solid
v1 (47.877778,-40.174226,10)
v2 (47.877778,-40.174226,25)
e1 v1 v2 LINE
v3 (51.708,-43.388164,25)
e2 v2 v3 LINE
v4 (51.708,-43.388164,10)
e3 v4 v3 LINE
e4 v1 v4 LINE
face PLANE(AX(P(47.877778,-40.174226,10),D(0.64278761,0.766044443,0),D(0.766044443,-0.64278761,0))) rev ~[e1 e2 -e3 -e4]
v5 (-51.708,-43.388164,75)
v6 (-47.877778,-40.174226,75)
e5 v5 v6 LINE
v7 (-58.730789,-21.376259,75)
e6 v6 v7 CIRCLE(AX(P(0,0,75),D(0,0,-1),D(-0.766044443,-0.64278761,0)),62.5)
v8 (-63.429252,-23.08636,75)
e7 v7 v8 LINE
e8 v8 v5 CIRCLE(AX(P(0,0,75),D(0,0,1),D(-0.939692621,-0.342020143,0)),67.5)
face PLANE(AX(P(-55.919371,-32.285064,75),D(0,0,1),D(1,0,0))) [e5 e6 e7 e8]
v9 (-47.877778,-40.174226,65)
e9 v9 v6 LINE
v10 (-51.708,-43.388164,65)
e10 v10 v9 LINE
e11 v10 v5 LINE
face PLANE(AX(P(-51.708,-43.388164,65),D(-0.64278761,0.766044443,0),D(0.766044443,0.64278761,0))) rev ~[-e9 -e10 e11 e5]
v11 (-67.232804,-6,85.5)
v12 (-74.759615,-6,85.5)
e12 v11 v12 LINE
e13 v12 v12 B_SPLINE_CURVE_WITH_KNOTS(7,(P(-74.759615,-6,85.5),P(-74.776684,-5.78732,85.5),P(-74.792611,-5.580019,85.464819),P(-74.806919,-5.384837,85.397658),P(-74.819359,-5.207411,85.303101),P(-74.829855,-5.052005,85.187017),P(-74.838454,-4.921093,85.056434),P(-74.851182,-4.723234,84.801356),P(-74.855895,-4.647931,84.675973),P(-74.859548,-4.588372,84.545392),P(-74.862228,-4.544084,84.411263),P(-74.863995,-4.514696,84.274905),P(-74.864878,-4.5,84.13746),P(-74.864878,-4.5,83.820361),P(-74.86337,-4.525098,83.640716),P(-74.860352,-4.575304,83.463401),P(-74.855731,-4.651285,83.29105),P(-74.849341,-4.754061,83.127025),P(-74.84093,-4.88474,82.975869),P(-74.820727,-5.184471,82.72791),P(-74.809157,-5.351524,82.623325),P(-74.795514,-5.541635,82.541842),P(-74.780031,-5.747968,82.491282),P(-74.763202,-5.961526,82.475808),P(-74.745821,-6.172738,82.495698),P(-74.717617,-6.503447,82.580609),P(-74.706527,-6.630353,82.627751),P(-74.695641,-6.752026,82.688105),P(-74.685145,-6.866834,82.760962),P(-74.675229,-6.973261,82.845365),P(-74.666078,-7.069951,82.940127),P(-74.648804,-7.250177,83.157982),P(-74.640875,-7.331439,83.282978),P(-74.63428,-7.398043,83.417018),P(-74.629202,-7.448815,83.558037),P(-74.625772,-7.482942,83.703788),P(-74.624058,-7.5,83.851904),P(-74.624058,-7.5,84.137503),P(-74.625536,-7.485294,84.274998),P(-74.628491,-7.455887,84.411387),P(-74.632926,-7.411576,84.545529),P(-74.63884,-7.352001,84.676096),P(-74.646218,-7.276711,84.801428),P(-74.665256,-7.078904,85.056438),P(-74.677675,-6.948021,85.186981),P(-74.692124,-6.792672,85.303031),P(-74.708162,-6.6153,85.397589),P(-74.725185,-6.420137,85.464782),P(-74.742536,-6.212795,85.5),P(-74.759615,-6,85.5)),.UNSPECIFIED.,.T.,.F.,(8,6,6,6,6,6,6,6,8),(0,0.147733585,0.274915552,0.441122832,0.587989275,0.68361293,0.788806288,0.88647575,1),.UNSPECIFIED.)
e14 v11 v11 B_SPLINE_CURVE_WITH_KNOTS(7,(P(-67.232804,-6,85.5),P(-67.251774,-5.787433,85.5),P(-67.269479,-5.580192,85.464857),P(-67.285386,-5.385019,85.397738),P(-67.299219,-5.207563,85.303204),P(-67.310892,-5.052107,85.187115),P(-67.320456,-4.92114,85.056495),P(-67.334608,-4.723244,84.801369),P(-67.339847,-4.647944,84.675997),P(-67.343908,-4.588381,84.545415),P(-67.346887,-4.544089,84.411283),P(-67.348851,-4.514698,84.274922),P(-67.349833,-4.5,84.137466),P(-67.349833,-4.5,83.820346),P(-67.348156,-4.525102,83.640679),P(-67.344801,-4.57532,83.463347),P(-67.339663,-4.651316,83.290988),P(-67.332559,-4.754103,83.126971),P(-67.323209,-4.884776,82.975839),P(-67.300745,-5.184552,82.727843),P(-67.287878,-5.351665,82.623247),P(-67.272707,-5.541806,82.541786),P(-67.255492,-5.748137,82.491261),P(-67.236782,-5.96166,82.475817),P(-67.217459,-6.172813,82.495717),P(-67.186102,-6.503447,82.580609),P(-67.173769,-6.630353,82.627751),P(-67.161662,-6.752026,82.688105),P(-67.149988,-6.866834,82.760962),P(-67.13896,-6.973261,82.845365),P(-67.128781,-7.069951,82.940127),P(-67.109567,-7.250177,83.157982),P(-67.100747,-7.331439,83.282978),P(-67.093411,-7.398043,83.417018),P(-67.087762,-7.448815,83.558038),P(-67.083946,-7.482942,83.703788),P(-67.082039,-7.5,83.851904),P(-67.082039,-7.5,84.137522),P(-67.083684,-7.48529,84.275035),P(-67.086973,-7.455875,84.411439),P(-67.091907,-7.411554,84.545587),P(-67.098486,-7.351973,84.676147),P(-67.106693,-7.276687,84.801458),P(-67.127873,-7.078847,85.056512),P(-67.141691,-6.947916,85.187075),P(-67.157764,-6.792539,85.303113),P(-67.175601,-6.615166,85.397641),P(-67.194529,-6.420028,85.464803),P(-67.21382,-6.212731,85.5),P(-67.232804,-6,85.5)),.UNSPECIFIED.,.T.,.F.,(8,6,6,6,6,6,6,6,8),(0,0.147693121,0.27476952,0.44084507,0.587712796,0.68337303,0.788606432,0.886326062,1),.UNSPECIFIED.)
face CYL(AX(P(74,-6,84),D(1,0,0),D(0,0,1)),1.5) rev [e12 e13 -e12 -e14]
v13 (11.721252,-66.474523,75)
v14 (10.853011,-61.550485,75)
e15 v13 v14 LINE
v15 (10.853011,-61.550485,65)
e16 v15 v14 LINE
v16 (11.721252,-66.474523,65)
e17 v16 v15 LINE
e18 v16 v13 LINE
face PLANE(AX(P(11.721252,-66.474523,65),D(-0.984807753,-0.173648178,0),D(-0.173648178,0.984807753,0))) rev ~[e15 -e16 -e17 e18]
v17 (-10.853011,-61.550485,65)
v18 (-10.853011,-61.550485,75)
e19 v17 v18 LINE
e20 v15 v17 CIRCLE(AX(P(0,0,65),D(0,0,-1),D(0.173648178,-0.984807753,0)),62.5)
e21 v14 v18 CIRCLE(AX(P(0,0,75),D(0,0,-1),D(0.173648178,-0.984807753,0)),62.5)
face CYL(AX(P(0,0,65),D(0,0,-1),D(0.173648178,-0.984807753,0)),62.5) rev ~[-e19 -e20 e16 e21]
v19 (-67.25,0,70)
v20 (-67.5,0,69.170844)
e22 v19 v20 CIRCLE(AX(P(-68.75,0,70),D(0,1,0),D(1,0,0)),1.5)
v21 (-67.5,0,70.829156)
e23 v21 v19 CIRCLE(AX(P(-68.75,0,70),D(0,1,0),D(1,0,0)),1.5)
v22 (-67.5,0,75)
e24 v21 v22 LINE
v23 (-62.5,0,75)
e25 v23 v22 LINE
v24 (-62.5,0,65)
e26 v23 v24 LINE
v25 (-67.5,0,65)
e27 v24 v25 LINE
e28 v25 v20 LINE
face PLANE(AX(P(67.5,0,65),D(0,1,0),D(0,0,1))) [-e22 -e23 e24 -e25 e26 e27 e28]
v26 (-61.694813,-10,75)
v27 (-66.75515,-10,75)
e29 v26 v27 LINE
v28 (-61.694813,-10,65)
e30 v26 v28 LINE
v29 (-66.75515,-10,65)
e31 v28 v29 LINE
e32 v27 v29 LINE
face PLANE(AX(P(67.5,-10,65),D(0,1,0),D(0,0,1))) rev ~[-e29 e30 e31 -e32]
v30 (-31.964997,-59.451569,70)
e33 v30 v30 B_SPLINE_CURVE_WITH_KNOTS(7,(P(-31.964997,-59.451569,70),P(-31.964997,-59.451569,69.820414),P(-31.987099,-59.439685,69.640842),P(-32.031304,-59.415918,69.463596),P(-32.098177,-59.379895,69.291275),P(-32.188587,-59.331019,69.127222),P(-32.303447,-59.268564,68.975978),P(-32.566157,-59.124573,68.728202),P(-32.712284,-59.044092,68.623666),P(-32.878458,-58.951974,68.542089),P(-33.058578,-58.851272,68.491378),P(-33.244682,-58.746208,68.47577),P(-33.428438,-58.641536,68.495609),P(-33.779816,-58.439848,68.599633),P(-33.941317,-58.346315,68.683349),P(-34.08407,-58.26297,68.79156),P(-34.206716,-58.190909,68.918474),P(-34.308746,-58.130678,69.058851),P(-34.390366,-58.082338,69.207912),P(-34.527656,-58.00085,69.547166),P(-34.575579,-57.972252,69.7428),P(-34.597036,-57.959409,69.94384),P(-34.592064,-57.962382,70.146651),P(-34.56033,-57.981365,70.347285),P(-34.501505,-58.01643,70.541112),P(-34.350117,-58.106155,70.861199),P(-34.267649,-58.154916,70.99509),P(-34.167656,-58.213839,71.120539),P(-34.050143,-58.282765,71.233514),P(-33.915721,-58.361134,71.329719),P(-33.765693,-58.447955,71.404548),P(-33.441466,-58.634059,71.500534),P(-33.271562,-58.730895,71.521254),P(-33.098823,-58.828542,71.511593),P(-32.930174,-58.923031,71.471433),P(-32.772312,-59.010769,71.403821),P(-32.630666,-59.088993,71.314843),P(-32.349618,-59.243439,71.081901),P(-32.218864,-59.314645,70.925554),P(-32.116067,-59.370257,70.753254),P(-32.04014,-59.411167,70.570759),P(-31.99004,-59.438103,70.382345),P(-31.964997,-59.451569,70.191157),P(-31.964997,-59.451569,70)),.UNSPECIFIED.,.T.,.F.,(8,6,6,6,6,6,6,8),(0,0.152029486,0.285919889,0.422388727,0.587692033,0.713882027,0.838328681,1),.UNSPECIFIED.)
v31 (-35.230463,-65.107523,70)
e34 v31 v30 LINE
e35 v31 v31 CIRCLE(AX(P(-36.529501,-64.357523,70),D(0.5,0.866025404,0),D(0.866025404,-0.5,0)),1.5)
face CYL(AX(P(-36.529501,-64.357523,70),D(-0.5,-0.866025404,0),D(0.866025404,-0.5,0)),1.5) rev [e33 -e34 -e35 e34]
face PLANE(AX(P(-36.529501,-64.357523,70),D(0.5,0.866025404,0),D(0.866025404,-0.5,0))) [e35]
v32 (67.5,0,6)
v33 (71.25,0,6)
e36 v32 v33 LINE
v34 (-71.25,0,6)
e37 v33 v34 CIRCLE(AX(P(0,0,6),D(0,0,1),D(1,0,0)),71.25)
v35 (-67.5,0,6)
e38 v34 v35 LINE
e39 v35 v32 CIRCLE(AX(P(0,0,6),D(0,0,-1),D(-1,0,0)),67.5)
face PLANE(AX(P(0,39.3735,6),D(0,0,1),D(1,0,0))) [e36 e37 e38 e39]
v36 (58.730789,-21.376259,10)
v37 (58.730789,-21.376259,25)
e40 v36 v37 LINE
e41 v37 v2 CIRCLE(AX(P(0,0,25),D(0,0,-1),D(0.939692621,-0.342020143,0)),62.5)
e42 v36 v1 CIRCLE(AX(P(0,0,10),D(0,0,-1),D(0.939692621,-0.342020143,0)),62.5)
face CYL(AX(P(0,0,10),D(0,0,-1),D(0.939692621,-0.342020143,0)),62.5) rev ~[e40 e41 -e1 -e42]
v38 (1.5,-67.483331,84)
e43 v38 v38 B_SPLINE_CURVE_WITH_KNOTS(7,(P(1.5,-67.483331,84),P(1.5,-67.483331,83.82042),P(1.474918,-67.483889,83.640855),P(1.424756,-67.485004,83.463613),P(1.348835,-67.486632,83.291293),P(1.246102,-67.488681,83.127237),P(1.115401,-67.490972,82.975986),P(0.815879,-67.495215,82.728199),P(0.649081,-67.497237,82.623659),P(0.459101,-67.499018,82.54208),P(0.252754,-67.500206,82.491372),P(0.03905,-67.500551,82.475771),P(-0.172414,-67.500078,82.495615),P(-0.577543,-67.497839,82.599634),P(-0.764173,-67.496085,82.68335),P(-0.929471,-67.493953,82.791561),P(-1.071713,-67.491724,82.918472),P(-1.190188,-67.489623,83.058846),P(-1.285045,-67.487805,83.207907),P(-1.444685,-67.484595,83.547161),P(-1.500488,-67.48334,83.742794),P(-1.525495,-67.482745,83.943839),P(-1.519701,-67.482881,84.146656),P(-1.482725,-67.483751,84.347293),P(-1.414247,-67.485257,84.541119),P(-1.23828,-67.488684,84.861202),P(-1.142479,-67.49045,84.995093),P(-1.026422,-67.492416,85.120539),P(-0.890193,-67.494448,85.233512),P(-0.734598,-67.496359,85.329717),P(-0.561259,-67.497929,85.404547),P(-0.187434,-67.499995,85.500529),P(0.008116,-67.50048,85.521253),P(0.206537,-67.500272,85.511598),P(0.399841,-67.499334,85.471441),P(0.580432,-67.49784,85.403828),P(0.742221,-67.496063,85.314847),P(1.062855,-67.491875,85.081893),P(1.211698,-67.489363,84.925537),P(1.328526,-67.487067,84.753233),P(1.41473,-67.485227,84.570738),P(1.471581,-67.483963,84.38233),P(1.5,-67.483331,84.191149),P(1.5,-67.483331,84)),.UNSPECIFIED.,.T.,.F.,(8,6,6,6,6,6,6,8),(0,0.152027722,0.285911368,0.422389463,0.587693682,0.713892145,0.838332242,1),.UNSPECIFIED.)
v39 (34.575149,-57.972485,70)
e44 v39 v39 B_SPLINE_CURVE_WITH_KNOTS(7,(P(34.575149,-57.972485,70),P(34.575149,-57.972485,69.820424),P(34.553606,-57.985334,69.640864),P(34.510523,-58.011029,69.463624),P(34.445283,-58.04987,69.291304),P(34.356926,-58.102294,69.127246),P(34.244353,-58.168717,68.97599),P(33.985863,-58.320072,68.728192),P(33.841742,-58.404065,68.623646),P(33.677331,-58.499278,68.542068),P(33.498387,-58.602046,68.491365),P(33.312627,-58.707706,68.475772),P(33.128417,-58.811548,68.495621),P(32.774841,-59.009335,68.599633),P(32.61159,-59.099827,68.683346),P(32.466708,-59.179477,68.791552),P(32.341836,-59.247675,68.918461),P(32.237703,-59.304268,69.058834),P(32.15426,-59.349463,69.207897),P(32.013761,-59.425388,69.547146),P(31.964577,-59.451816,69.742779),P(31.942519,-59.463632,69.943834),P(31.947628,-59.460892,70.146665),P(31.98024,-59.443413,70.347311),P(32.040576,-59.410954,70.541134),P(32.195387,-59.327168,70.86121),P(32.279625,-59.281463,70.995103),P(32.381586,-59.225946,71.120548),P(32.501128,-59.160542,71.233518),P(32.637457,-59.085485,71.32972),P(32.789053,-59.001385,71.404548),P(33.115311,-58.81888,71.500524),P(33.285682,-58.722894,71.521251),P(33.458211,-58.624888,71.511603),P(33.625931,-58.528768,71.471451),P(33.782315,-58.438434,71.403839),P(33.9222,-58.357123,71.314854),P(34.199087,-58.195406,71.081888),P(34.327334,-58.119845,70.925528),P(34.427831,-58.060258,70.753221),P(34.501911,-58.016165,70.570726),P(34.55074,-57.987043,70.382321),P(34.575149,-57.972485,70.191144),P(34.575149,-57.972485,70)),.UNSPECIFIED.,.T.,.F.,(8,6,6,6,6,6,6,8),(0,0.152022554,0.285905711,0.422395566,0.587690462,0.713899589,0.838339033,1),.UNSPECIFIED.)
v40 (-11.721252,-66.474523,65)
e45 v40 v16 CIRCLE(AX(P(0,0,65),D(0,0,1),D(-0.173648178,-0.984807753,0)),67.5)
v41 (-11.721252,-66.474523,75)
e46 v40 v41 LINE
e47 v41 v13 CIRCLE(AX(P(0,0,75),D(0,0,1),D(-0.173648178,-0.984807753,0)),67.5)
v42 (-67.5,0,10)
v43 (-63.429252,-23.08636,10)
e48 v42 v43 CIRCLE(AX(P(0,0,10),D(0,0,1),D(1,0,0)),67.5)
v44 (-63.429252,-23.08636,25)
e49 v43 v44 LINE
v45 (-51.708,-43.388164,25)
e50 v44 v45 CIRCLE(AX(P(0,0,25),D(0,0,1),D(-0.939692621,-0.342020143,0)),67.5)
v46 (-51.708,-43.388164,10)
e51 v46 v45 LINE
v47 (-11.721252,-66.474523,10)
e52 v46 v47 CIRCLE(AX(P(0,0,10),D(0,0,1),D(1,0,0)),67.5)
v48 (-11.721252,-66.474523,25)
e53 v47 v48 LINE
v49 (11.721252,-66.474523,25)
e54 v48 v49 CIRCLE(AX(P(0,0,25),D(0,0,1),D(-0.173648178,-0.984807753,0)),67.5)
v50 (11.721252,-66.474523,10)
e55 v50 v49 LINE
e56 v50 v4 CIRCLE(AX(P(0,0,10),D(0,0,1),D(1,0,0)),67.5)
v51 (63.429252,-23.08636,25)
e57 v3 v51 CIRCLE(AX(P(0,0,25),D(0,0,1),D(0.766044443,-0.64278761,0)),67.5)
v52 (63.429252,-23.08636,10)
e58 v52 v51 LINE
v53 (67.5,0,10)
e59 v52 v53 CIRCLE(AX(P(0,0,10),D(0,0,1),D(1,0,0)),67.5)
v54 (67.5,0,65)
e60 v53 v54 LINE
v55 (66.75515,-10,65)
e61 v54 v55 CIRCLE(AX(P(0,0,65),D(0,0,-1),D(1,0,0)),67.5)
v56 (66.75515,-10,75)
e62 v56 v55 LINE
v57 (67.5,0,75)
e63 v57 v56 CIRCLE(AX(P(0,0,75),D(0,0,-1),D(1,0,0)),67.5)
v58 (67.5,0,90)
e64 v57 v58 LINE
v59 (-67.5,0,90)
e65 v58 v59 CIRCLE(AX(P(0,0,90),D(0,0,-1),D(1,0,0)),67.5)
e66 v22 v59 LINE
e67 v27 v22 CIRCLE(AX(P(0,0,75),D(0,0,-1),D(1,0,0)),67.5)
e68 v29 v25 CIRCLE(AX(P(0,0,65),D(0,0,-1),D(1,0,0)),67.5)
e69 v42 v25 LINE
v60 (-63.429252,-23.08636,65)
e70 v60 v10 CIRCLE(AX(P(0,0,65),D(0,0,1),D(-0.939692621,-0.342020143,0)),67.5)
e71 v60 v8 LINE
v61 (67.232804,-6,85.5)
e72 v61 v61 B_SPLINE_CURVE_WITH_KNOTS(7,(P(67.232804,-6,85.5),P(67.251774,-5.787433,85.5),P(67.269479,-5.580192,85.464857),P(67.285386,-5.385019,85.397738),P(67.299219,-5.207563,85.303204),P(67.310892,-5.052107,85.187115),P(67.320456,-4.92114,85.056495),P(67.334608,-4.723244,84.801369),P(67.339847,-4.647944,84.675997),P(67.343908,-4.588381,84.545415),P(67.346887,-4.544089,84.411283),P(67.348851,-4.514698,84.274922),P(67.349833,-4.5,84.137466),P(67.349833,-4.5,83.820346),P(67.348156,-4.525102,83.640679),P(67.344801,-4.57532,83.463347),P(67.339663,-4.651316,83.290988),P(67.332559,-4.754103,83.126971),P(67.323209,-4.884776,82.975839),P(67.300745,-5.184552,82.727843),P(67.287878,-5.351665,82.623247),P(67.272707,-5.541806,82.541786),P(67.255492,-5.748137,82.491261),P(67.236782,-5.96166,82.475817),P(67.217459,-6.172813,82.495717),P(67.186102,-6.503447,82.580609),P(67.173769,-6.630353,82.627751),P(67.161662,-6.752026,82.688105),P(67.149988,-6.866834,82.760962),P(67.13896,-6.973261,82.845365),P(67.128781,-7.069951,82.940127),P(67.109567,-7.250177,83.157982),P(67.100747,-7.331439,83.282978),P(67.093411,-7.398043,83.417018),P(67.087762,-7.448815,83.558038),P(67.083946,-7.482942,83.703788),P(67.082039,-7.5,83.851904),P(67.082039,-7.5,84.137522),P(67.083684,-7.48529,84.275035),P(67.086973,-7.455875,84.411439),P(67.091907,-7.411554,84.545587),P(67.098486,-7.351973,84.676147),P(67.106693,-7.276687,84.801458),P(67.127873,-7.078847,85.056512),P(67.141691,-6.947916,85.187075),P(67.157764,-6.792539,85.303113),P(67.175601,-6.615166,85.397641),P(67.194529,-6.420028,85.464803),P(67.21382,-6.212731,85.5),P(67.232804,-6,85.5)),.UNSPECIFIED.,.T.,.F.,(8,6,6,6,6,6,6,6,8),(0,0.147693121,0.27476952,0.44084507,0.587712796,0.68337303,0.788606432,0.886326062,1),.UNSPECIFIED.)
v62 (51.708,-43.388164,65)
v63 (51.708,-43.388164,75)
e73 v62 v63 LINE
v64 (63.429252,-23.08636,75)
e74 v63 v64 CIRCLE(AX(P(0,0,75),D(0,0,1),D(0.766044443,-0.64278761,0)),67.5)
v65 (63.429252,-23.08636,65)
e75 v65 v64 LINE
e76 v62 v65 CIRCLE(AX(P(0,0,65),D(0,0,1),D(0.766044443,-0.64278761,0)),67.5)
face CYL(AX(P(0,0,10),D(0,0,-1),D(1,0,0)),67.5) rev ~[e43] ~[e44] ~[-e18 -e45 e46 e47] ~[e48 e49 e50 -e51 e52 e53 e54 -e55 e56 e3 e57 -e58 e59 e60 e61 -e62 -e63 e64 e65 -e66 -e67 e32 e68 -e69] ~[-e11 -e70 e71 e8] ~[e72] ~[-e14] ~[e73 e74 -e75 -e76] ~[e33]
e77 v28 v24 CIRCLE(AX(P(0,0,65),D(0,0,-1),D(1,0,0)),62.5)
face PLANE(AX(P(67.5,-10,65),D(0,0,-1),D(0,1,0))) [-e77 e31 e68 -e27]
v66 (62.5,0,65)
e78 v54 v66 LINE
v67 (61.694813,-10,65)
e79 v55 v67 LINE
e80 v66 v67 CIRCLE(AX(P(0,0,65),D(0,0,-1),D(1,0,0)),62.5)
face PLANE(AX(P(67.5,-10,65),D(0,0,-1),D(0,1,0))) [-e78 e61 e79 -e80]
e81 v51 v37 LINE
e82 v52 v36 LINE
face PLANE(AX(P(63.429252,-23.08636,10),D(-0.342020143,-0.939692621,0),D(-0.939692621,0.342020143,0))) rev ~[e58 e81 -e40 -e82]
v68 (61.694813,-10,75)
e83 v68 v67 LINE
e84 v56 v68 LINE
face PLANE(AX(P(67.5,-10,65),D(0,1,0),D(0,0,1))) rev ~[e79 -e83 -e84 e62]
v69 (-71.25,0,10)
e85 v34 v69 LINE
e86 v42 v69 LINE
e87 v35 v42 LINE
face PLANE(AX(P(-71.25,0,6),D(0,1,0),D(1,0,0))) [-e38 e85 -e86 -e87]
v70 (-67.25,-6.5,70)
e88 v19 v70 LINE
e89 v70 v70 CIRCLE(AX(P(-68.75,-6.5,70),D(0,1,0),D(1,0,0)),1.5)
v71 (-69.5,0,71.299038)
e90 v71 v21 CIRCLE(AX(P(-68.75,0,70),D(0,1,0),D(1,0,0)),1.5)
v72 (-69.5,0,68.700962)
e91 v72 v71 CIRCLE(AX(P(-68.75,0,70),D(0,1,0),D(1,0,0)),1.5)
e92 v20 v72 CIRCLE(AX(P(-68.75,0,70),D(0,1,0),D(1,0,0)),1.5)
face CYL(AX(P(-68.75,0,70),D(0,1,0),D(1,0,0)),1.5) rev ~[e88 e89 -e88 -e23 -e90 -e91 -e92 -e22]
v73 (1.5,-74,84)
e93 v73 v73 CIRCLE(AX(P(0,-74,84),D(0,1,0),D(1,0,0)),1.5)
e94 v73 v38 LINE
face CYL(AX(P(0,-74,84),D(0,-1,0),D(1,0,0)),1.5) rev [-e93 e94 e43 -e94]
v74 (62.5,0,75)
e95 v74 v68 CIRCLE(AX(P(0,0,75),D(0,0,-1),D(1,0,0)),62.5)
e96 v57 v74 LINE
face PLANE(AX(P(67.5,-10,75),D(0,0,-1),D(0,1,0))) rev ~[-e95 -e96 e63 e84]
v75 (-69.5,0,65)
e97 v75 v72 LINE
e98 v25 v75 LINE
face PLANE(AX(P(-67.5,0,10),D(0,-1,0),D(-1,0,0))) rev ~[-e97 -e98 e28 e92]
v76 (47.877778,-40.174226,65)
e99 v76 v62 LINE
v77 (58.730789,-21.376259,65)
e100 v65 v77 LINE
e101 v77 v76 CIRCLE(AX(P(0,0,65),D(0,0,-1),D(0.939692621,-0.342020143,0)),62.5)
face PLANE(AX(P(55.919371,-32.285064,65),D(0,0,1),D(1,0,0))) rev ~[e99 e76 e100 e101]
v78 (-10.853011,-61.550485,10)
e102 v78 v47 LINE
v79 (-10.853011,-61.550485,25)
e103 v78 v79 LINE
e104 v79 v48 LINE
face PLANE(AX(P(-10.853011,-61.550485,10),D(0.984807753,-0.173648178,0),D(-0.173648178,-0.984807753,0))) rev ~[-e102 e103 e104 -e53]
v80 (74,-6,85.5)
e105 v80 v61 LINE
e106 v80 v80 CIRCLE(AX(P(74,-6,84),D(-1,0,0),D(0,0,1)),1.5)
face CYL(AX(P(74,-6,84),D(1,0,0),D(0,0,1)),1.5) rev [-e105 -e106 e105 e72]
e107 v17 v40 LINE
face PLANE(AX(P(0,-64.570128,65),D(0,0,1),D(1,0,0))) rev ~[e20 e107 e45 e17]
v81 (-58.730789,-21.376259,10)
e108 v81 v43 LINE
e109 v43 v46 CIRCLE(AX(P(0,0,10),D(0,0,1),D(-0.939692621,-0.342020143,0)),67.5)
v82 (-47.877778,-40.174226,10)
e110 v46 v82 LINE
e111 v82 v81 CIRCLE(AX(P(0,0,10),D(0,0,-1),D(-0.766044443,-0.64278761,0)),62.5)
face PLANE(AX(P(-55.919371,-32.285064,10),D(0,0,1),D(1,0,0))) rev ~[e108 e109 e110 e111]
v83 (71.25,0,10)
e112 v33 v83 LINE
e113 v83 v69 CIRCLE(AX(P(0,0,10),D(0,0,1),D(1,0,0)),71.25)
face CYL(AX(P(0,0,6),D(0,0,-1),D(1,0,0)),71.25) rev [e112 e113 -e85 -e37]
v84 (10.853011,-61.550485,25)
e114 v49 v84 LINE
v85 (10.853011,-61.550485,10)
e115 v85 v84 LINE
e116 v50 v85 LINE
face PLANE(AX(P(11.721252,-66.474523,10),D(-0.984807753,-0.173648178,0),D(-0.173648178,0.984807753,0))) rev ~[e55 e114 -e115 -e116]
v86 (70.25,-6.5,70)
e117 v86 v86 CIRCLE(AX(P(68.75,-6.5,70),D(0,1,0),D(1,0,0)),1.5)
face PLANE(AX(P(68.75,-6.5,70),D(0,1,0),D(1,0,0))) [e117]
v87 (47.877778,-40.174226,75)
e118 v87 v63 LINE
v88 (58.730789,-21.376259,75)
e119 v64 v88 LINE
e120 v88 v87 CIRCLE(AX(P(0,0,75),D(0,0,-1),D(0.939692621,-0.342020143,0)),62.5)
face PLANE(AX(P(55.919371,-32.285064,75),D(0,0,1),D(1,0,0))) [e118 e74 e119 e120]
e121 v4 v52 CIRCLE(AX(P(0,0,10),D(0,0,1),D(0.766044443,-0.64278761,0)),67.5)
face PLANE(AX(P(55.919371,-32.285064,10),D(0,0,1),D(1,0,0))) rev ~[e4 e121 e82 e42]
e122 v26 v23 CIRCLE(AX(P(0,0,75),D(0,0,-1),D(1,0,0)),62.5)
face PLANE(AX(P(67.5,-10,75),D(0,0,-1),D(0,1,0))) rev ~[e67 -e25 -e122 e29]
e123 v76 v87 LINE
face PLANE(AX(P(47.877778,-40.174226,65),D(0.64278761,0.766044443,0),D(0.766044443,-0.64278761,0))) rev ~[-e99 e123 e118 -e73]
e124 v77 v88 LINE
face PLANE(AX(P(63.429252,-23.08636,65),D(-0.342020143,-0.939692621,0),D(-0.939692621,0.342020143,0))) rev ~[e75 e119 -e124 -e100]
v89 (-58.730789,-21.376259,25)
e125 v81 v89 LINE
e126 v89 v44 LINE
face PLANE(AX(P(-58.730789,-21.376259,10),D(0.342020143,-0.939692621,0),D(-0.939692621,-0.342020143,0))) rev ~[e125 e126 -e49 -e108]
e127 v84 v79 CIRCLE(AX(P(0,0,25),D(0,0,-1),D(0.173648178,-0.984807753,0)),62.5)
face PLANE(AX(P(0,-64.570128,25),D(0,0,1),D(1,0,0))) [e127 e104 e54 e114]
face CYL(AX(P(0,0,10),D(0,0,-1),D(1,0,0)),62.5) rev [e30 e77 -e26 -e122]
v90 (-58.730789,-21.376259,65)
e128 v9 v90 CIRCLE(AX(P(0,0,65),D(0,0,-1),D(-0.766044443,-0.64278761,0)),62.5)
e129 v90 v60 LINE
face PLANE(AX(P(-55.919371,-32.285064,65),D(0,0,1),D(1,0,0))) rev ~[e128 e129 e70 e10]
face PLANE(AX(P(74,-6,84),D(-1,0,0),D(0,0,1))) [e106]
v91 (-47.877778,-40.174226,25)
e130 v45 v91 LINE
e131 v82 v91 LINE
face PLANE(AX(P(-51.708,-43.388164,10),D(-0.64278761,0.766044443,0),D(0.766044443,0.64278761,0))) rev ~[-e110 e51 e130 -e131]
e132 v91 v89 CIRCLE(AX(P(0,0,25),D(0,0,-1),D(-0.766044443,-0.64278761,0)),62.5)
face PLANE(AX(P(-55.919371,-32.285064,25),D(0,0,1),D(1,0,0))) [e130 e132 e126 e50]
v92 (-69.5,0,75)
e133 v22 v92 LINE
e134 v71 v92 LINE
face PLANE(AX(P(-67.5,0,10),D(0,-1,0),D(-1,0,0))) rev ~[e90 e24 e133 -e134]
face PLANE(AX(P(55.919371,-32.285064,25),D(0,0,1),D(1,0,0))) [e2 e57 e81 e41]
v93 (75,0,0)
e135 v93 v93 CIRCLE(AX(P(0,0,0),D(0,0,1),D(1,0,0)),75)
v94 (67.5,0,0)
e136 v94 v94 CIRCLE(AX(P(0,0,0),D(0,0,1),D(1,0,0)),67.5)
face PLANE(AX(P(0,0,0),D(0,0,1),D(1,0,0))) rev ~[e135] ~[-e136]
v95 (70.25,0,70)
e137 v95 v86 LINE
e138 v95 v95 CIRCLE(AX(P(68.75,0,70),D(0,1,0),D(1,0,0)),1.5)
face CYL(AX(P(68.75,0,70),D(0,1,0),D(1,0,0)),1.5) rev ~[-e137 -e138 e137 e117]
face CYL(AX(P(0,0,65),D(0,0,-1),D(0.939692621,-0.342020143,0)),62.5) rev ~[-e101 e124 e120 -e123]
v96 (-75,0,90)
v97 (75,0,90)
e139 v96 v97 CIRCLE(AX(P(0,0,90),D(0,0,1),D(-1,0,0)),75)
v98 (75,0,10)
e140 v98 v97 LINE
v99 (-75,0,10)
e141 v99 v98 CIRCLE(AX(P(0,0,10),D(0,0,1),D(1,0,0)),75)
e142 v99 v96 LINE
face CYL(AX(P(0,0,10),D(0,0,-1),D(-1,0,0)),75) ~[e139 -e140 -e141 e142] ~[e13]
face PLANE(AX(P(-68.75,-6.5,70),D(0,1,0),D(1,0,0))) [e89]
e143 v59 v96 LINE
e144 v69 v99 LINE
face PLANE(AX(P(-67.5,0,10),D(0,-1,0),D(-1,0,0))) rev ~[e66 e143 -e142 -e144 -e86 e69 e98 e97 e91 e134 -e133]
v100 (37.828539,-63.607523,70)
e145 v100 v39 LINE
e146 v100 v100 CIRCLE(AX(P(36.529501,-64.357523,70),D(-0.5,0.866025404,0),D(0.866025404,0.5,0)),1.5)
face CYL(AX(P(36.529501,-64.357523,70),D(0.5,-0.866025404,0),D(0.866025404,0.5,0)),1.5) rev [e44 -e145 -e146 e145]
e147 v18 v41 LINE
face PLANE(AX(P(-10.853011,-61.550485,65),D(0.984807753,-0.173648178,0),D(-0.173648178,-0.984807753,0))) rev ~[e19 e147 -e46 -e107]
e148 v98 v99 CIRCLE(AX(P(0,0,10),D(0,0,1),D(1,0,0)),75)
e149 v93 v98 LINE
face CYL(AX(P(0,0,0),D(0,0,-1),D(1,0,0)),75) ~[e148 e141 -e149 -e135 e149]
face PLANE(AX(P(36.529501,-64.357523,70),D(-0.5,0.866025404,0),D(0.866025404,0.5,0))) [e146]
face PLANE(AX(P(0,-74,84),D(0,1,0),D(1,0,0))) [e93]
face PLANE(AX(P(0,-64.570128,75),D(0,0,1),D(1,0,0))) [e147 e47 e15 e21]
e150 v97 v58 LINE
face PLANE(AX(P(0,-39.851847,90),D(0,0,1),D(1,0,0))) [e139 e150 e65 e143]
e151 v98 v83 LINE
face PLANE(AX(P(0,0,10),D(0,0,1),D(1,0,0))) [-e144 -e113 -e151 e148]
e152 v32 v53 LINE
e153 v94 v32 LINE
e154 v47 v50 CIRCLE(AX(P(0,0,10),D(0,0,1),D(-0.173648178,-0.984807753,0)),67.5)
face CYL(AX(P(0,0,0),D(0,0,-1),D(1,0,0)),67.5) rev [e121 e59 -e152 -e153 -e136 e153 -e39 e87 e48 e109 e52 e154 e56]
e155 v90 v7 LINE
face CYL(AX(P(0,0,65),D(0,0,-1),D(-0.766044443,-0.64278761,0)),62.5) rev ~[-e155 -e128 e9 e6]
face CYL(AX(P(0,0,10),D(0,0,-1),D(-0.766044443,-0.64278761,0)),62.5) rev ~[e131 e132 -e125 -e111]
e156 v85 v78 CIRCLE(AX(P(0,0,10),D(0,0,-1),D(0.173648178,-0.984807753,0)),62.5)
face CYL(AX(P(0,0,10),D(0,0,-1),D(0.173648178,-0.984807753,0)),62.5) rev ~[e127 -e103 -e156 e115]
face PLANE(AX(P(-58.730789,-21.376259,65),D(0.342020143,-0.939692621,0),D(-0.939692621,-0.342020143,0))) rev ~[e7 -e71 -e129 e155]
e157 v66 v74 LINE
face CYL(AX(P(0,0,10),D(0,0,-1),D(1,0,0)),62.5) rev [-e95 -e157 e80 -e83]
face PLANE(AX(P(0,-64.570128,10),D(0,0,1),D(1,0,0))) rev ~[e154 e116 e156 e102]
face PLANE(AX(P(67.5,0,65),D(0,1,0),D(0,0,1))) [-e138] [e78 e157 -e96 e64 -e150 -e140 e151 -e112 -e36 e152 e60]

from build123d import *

# Parameters (mm, degrees)
SKETCH2_R               = 75
SKETCH2_R_2             = 67.5
BOSS_EXTRUDE2_DEPTH     = 10
BOSS_EXTRUDE3_DEPTH     = 80
BOSS_EXTRUDE4_DEPTH     = 15
BOSS_EXTRUDE5_DEPTH     = 10
SKETCH7_W               = 10
SKETCH7_H               = 10
BOSS_EXTRUDE6_DEPTH     = 137
SKETCH8_R               = 62.5
CUT_EXTRUDE1_DEPTH      = 150
SKETCH9_R               = 1.5
CUT_EXTRUDE2_DEPTH      = 6.5
CUT_EXTRUDE3_DEPTH      = 152.5
CUT_EXTRUDE3_DEPTH_BACK = 6.5
SKETCH10_R              = 1.5
CUT_EXTRUDE4_DEPTH      = 6.5
CUT_EXTRUDE4_DEPTH_BACK = 6.5
SKETCH12_R              = 1.5
CUT_EXTRUDE5_DEPTH      = 6.5
CUT_EXTRUDE5_DEPTH_BACK = 6.5
SKETCH13_R              = 1.5
CUT_EXTRUDE6_DEPTH      = 6.5
CUT_EXTRUDE6_DEPTH_BACK = 6.5
SKETCH14_R              = 1.5
CUT_EXTRUDE7_START      = -4
CUT_EXTRUDE7_DEPTH      = 4


with BuildPart() as part:
    # Sketch2 → Boss-Extrude2 (new body)
    with BuildSketch(Plane.XY):
        Circle(SKETCH2_R)
        Circle(SKETCH2_R_2, mode=Mode.SUBTRACT)
    extrude(amount=BOSS_EXTRUDE2_DEPTH)

    # Sketch3 → Boss-Extrude3 (add)
    with BuildSketch(Plane.XY.offset(10)):
        with BuildLine():
            Line((75, 0), (67.5, 0))
            ThreePointArc((67.5, 0), (0, -67.5), (-67.5, 0))
            Line((-67.5, 0), (-75, 0))
            ThreePointArc((-75, 0), (0, -75), (75, 0))
        make_face()
    extrude(amount=BOSS_EXTRUDE3_DEPTH)

    # Sketch5 → Boss-Extrude4 (add)
    with BuildSketch(Plane.XY.offset(10)):
        with BuildLine():
            ThreePointArc((-47.877777695, -40.174225605), (-54.126587737, -31.25), (-58.730788799, -21.376258958))
            Line((-58.730788799, -21.376258958), (-63.429251903, -23.086359674))
            ThreePointArc((-63.429251903, -23.086359674), (-58.456714755, -33.75), (-51.707999911, -43.388163654))
            Line((-51.707999911, -43.388163654), (-47.877777695, -40.174225605))
        make_face()
        with BuildLine():
            Line((63.429251903, -23.086359674), (58.730788799, -21.376258958))
            ThreePointArc((58.730788799, -21.376258958), (54.126587737, -31.25), (47.877777695, -40.174225605))
            Line((47.877777695, -40.174225605), (51.707999911, -43.388163654))
            ThreePointArc((51.707999911, -43.388163654), (58.456714755, -33.75), (63.429251903, -23.086359674))
        make_face()
        with BuildLine():
            ThreePointArc((10.853011104, -61.550484563), (0, -62.5), (-10.853011104, -61.550484563))
            Line((-10.853011104, -61.550484563), (-11.721251993, -66.474523328))
            ThreePointArc((-11.721251993, -66.474523328), (0, -67.5), (11.721251993, -66.474523328))
            Line((11.721251993, -66.474523328), (10.853011104, -61.550484563))
        make_face()
    extrude(amount=BOSS_EXTRUDE4_DEPTH)

    # Sketch6 → Boss-Extrude5 (add)
    with BuildSketch(Plane.XY.offset(65)):
        with BuildLine():
            ThreePointArc((-47.877777695, -40.174225605), (-54.126587737, -31.25), (-58.730788799, -21.376258958))
            Line((-58.730788799, -21.376258958), (-63.429251903, -23.086359674))
            ThreePointArc((-63.429251903, -23.086359674), (-58.456714755, -33.75), (-51.707999911, -43.388163654))
            Line((-51.707999911, -43.388163654), (-47.877777695, -40.174225605))
        make_face()
        with BuildLine():
            Line((63.429251903, -23.086359674), (58.730788799, -21.376258958))
            ThreePointArc((58.730788799, -21.376258958), (54.126587737, -31.25), (47.877777695, -40.174225605))
            Line((47.877777695, -40.174225605), (51.707999911, -43.388163654))
            ThreePointArc((51.707999911, -43.388163654), (58.456714755, -33.75), (63.429251903, -23.086359674))
        make_face()
        with BuildLine():
            ThreePointArc((10.853011104, -61.550484563), (0, -62.5), (-10.853011104, -61.550484563))
            Line((-10.853011104, -61.550484563), (-11.721251993, -66.474523328))
            ThreePointArc((-11.721251993, -66.474523328), (0, -67.5), (11.721251993, -66.474523328))
            Line((11.721251993, -66.474523328), (10.853011104, -61.550484563))
        make_face()
    extrude(amount=BOSS_EXTRUDE5_DEPTH)

    # Sketch7 → Boss-Extrude6 (add)
    with BuildSketch(Plane.ZY.offset(-67.5)):
        with Locations((70, -5)):
            Rectangle(SKETCH7_W, SKETCH7_H)
    extrude(amount=BOSS_EXTRUDE6_DEPTH)

    # Sketch8 → Cut-Extrude1 (cut)
    with BuildSketch(Plane.XY.offset(10)):
        Circle(SKETCH8_R)
    extrude(amount=CUT_EXTRUDE1_DEPTH, mode=Mode.SUBTRACT)

    # Sketch9 → Cut-Extrude2 (cut)
    with BuildSketch(Plane(origin=(0, 0, 0), x_dir=(1, 0, 0), z_dir=(0, 1, 0))):
        with Locations((-68.75, -70)):
            Circle(SKETCH9_R)
        with Locations((68.75, -70)):
            Circle(SKETCH9_R)
    extrude(amount=-CUT_EXTRUDE2_DEPTH, mode=Mode.SUBTRACT)

    # Sketch10 → Cut-Extrude3 (cut, two sides: drawn at the far end of the back side and taken through both)
    with BuildSketch(Plane.ZY.offset(-67.5).offset(-CUT_EXTRUDE3_DEPTH_BACK)):
        with Locations((84, -6)):
            Circle(SKETCH10_R)
    extrude(amount=CUT_EXTRUDE3_DEPTH + CUT_EXTRUDE3_DEPTH_BACK, mode=Mode.SUBTRACT)

    # Sketch12 → Cut-Extrude4 (cut, two sides: drawn at the far end of the back side and taken through both)
    with BuildSketch(Plane(origin=(0, -67.5, 0), x_dir=(1, 0, 0), z_dir=(0, 1, 0)).offset(-CUT_EXTRUDE4_DEPTH_BACK)):
        with Locations((0, -84)):
            Circle(SKETCH12_R)
    extrude(amount=CUT_EXTRUDE4_DEPTH + CUT_EXTRUDE4_DEPTH_BACK, mode=Mode.SUBTRACT)

    # Sketch13 → Cut-Extrude5 (cut, two sides: drawn at the far end of the back side and taken through both)
    with BuildSketch(Plane(origin=(-33.75, -58.456714755, 0), x_dir=(0.8660254037844395, -0.4999999999999986, 0), z_dir=(0.4999999999999986, 0.8660254037844395, 0)).offset(-CUT_EXTRUDE5_DEPTH_BACK)):
        with Locations((0.543285245, -70)):
            Circle(SKETCH13_R)
    extrude(amount=CUT_EXTRUDE5_DEPTH + CUT_EXTRUDE5_DEPTH_BACK, mode=Mode.SUBTRACT)

    # Sketch14 → Cut-Extrude6 (cut, two sides: drawn at the far end of the back side and taken through both)
    with BuildSketch(Plane(origin=(33.75, -58.456714755, 0), x_dir=(0.8660254037844367, 0.5000000000000034, 0), z_dir=(-0.5000000000000033, 0.8660254037844366, 0)).offset(-CUT_EXTRUDE6_DEPTH_BACK)):
        with Locations((-0.543285245, -70)):
            Circle(SKETCH14_R)
    extrude(amount=CUT_EXTRUDE6_DEPTH + CUT_EXTRUDE6_DEPTH_BACK, mode=Mode.SUBTRACT)

    # Sketch15 → Cut-Extrude7 (cut)
    with BuildSketch(Plane.XY.offset(10).offset(CUT_EXTRUDE7_START)):
        with BuildLine():
            ThreePointArc((71.25, 0), (0, 71.25), (-71.25, 0))
            Line((-71.25, 0), (-67.5, 0))
            ThreePointArc((-67.5, 0), (0, 67.5), (67.5, 0))
            Line((67.5, 0), (71.25, 0))
        make_face()
    extrude(amount=CUT_EXTRUDE7_DEPTH, mode=Mode.SUBTRACT)


solid = part.part
